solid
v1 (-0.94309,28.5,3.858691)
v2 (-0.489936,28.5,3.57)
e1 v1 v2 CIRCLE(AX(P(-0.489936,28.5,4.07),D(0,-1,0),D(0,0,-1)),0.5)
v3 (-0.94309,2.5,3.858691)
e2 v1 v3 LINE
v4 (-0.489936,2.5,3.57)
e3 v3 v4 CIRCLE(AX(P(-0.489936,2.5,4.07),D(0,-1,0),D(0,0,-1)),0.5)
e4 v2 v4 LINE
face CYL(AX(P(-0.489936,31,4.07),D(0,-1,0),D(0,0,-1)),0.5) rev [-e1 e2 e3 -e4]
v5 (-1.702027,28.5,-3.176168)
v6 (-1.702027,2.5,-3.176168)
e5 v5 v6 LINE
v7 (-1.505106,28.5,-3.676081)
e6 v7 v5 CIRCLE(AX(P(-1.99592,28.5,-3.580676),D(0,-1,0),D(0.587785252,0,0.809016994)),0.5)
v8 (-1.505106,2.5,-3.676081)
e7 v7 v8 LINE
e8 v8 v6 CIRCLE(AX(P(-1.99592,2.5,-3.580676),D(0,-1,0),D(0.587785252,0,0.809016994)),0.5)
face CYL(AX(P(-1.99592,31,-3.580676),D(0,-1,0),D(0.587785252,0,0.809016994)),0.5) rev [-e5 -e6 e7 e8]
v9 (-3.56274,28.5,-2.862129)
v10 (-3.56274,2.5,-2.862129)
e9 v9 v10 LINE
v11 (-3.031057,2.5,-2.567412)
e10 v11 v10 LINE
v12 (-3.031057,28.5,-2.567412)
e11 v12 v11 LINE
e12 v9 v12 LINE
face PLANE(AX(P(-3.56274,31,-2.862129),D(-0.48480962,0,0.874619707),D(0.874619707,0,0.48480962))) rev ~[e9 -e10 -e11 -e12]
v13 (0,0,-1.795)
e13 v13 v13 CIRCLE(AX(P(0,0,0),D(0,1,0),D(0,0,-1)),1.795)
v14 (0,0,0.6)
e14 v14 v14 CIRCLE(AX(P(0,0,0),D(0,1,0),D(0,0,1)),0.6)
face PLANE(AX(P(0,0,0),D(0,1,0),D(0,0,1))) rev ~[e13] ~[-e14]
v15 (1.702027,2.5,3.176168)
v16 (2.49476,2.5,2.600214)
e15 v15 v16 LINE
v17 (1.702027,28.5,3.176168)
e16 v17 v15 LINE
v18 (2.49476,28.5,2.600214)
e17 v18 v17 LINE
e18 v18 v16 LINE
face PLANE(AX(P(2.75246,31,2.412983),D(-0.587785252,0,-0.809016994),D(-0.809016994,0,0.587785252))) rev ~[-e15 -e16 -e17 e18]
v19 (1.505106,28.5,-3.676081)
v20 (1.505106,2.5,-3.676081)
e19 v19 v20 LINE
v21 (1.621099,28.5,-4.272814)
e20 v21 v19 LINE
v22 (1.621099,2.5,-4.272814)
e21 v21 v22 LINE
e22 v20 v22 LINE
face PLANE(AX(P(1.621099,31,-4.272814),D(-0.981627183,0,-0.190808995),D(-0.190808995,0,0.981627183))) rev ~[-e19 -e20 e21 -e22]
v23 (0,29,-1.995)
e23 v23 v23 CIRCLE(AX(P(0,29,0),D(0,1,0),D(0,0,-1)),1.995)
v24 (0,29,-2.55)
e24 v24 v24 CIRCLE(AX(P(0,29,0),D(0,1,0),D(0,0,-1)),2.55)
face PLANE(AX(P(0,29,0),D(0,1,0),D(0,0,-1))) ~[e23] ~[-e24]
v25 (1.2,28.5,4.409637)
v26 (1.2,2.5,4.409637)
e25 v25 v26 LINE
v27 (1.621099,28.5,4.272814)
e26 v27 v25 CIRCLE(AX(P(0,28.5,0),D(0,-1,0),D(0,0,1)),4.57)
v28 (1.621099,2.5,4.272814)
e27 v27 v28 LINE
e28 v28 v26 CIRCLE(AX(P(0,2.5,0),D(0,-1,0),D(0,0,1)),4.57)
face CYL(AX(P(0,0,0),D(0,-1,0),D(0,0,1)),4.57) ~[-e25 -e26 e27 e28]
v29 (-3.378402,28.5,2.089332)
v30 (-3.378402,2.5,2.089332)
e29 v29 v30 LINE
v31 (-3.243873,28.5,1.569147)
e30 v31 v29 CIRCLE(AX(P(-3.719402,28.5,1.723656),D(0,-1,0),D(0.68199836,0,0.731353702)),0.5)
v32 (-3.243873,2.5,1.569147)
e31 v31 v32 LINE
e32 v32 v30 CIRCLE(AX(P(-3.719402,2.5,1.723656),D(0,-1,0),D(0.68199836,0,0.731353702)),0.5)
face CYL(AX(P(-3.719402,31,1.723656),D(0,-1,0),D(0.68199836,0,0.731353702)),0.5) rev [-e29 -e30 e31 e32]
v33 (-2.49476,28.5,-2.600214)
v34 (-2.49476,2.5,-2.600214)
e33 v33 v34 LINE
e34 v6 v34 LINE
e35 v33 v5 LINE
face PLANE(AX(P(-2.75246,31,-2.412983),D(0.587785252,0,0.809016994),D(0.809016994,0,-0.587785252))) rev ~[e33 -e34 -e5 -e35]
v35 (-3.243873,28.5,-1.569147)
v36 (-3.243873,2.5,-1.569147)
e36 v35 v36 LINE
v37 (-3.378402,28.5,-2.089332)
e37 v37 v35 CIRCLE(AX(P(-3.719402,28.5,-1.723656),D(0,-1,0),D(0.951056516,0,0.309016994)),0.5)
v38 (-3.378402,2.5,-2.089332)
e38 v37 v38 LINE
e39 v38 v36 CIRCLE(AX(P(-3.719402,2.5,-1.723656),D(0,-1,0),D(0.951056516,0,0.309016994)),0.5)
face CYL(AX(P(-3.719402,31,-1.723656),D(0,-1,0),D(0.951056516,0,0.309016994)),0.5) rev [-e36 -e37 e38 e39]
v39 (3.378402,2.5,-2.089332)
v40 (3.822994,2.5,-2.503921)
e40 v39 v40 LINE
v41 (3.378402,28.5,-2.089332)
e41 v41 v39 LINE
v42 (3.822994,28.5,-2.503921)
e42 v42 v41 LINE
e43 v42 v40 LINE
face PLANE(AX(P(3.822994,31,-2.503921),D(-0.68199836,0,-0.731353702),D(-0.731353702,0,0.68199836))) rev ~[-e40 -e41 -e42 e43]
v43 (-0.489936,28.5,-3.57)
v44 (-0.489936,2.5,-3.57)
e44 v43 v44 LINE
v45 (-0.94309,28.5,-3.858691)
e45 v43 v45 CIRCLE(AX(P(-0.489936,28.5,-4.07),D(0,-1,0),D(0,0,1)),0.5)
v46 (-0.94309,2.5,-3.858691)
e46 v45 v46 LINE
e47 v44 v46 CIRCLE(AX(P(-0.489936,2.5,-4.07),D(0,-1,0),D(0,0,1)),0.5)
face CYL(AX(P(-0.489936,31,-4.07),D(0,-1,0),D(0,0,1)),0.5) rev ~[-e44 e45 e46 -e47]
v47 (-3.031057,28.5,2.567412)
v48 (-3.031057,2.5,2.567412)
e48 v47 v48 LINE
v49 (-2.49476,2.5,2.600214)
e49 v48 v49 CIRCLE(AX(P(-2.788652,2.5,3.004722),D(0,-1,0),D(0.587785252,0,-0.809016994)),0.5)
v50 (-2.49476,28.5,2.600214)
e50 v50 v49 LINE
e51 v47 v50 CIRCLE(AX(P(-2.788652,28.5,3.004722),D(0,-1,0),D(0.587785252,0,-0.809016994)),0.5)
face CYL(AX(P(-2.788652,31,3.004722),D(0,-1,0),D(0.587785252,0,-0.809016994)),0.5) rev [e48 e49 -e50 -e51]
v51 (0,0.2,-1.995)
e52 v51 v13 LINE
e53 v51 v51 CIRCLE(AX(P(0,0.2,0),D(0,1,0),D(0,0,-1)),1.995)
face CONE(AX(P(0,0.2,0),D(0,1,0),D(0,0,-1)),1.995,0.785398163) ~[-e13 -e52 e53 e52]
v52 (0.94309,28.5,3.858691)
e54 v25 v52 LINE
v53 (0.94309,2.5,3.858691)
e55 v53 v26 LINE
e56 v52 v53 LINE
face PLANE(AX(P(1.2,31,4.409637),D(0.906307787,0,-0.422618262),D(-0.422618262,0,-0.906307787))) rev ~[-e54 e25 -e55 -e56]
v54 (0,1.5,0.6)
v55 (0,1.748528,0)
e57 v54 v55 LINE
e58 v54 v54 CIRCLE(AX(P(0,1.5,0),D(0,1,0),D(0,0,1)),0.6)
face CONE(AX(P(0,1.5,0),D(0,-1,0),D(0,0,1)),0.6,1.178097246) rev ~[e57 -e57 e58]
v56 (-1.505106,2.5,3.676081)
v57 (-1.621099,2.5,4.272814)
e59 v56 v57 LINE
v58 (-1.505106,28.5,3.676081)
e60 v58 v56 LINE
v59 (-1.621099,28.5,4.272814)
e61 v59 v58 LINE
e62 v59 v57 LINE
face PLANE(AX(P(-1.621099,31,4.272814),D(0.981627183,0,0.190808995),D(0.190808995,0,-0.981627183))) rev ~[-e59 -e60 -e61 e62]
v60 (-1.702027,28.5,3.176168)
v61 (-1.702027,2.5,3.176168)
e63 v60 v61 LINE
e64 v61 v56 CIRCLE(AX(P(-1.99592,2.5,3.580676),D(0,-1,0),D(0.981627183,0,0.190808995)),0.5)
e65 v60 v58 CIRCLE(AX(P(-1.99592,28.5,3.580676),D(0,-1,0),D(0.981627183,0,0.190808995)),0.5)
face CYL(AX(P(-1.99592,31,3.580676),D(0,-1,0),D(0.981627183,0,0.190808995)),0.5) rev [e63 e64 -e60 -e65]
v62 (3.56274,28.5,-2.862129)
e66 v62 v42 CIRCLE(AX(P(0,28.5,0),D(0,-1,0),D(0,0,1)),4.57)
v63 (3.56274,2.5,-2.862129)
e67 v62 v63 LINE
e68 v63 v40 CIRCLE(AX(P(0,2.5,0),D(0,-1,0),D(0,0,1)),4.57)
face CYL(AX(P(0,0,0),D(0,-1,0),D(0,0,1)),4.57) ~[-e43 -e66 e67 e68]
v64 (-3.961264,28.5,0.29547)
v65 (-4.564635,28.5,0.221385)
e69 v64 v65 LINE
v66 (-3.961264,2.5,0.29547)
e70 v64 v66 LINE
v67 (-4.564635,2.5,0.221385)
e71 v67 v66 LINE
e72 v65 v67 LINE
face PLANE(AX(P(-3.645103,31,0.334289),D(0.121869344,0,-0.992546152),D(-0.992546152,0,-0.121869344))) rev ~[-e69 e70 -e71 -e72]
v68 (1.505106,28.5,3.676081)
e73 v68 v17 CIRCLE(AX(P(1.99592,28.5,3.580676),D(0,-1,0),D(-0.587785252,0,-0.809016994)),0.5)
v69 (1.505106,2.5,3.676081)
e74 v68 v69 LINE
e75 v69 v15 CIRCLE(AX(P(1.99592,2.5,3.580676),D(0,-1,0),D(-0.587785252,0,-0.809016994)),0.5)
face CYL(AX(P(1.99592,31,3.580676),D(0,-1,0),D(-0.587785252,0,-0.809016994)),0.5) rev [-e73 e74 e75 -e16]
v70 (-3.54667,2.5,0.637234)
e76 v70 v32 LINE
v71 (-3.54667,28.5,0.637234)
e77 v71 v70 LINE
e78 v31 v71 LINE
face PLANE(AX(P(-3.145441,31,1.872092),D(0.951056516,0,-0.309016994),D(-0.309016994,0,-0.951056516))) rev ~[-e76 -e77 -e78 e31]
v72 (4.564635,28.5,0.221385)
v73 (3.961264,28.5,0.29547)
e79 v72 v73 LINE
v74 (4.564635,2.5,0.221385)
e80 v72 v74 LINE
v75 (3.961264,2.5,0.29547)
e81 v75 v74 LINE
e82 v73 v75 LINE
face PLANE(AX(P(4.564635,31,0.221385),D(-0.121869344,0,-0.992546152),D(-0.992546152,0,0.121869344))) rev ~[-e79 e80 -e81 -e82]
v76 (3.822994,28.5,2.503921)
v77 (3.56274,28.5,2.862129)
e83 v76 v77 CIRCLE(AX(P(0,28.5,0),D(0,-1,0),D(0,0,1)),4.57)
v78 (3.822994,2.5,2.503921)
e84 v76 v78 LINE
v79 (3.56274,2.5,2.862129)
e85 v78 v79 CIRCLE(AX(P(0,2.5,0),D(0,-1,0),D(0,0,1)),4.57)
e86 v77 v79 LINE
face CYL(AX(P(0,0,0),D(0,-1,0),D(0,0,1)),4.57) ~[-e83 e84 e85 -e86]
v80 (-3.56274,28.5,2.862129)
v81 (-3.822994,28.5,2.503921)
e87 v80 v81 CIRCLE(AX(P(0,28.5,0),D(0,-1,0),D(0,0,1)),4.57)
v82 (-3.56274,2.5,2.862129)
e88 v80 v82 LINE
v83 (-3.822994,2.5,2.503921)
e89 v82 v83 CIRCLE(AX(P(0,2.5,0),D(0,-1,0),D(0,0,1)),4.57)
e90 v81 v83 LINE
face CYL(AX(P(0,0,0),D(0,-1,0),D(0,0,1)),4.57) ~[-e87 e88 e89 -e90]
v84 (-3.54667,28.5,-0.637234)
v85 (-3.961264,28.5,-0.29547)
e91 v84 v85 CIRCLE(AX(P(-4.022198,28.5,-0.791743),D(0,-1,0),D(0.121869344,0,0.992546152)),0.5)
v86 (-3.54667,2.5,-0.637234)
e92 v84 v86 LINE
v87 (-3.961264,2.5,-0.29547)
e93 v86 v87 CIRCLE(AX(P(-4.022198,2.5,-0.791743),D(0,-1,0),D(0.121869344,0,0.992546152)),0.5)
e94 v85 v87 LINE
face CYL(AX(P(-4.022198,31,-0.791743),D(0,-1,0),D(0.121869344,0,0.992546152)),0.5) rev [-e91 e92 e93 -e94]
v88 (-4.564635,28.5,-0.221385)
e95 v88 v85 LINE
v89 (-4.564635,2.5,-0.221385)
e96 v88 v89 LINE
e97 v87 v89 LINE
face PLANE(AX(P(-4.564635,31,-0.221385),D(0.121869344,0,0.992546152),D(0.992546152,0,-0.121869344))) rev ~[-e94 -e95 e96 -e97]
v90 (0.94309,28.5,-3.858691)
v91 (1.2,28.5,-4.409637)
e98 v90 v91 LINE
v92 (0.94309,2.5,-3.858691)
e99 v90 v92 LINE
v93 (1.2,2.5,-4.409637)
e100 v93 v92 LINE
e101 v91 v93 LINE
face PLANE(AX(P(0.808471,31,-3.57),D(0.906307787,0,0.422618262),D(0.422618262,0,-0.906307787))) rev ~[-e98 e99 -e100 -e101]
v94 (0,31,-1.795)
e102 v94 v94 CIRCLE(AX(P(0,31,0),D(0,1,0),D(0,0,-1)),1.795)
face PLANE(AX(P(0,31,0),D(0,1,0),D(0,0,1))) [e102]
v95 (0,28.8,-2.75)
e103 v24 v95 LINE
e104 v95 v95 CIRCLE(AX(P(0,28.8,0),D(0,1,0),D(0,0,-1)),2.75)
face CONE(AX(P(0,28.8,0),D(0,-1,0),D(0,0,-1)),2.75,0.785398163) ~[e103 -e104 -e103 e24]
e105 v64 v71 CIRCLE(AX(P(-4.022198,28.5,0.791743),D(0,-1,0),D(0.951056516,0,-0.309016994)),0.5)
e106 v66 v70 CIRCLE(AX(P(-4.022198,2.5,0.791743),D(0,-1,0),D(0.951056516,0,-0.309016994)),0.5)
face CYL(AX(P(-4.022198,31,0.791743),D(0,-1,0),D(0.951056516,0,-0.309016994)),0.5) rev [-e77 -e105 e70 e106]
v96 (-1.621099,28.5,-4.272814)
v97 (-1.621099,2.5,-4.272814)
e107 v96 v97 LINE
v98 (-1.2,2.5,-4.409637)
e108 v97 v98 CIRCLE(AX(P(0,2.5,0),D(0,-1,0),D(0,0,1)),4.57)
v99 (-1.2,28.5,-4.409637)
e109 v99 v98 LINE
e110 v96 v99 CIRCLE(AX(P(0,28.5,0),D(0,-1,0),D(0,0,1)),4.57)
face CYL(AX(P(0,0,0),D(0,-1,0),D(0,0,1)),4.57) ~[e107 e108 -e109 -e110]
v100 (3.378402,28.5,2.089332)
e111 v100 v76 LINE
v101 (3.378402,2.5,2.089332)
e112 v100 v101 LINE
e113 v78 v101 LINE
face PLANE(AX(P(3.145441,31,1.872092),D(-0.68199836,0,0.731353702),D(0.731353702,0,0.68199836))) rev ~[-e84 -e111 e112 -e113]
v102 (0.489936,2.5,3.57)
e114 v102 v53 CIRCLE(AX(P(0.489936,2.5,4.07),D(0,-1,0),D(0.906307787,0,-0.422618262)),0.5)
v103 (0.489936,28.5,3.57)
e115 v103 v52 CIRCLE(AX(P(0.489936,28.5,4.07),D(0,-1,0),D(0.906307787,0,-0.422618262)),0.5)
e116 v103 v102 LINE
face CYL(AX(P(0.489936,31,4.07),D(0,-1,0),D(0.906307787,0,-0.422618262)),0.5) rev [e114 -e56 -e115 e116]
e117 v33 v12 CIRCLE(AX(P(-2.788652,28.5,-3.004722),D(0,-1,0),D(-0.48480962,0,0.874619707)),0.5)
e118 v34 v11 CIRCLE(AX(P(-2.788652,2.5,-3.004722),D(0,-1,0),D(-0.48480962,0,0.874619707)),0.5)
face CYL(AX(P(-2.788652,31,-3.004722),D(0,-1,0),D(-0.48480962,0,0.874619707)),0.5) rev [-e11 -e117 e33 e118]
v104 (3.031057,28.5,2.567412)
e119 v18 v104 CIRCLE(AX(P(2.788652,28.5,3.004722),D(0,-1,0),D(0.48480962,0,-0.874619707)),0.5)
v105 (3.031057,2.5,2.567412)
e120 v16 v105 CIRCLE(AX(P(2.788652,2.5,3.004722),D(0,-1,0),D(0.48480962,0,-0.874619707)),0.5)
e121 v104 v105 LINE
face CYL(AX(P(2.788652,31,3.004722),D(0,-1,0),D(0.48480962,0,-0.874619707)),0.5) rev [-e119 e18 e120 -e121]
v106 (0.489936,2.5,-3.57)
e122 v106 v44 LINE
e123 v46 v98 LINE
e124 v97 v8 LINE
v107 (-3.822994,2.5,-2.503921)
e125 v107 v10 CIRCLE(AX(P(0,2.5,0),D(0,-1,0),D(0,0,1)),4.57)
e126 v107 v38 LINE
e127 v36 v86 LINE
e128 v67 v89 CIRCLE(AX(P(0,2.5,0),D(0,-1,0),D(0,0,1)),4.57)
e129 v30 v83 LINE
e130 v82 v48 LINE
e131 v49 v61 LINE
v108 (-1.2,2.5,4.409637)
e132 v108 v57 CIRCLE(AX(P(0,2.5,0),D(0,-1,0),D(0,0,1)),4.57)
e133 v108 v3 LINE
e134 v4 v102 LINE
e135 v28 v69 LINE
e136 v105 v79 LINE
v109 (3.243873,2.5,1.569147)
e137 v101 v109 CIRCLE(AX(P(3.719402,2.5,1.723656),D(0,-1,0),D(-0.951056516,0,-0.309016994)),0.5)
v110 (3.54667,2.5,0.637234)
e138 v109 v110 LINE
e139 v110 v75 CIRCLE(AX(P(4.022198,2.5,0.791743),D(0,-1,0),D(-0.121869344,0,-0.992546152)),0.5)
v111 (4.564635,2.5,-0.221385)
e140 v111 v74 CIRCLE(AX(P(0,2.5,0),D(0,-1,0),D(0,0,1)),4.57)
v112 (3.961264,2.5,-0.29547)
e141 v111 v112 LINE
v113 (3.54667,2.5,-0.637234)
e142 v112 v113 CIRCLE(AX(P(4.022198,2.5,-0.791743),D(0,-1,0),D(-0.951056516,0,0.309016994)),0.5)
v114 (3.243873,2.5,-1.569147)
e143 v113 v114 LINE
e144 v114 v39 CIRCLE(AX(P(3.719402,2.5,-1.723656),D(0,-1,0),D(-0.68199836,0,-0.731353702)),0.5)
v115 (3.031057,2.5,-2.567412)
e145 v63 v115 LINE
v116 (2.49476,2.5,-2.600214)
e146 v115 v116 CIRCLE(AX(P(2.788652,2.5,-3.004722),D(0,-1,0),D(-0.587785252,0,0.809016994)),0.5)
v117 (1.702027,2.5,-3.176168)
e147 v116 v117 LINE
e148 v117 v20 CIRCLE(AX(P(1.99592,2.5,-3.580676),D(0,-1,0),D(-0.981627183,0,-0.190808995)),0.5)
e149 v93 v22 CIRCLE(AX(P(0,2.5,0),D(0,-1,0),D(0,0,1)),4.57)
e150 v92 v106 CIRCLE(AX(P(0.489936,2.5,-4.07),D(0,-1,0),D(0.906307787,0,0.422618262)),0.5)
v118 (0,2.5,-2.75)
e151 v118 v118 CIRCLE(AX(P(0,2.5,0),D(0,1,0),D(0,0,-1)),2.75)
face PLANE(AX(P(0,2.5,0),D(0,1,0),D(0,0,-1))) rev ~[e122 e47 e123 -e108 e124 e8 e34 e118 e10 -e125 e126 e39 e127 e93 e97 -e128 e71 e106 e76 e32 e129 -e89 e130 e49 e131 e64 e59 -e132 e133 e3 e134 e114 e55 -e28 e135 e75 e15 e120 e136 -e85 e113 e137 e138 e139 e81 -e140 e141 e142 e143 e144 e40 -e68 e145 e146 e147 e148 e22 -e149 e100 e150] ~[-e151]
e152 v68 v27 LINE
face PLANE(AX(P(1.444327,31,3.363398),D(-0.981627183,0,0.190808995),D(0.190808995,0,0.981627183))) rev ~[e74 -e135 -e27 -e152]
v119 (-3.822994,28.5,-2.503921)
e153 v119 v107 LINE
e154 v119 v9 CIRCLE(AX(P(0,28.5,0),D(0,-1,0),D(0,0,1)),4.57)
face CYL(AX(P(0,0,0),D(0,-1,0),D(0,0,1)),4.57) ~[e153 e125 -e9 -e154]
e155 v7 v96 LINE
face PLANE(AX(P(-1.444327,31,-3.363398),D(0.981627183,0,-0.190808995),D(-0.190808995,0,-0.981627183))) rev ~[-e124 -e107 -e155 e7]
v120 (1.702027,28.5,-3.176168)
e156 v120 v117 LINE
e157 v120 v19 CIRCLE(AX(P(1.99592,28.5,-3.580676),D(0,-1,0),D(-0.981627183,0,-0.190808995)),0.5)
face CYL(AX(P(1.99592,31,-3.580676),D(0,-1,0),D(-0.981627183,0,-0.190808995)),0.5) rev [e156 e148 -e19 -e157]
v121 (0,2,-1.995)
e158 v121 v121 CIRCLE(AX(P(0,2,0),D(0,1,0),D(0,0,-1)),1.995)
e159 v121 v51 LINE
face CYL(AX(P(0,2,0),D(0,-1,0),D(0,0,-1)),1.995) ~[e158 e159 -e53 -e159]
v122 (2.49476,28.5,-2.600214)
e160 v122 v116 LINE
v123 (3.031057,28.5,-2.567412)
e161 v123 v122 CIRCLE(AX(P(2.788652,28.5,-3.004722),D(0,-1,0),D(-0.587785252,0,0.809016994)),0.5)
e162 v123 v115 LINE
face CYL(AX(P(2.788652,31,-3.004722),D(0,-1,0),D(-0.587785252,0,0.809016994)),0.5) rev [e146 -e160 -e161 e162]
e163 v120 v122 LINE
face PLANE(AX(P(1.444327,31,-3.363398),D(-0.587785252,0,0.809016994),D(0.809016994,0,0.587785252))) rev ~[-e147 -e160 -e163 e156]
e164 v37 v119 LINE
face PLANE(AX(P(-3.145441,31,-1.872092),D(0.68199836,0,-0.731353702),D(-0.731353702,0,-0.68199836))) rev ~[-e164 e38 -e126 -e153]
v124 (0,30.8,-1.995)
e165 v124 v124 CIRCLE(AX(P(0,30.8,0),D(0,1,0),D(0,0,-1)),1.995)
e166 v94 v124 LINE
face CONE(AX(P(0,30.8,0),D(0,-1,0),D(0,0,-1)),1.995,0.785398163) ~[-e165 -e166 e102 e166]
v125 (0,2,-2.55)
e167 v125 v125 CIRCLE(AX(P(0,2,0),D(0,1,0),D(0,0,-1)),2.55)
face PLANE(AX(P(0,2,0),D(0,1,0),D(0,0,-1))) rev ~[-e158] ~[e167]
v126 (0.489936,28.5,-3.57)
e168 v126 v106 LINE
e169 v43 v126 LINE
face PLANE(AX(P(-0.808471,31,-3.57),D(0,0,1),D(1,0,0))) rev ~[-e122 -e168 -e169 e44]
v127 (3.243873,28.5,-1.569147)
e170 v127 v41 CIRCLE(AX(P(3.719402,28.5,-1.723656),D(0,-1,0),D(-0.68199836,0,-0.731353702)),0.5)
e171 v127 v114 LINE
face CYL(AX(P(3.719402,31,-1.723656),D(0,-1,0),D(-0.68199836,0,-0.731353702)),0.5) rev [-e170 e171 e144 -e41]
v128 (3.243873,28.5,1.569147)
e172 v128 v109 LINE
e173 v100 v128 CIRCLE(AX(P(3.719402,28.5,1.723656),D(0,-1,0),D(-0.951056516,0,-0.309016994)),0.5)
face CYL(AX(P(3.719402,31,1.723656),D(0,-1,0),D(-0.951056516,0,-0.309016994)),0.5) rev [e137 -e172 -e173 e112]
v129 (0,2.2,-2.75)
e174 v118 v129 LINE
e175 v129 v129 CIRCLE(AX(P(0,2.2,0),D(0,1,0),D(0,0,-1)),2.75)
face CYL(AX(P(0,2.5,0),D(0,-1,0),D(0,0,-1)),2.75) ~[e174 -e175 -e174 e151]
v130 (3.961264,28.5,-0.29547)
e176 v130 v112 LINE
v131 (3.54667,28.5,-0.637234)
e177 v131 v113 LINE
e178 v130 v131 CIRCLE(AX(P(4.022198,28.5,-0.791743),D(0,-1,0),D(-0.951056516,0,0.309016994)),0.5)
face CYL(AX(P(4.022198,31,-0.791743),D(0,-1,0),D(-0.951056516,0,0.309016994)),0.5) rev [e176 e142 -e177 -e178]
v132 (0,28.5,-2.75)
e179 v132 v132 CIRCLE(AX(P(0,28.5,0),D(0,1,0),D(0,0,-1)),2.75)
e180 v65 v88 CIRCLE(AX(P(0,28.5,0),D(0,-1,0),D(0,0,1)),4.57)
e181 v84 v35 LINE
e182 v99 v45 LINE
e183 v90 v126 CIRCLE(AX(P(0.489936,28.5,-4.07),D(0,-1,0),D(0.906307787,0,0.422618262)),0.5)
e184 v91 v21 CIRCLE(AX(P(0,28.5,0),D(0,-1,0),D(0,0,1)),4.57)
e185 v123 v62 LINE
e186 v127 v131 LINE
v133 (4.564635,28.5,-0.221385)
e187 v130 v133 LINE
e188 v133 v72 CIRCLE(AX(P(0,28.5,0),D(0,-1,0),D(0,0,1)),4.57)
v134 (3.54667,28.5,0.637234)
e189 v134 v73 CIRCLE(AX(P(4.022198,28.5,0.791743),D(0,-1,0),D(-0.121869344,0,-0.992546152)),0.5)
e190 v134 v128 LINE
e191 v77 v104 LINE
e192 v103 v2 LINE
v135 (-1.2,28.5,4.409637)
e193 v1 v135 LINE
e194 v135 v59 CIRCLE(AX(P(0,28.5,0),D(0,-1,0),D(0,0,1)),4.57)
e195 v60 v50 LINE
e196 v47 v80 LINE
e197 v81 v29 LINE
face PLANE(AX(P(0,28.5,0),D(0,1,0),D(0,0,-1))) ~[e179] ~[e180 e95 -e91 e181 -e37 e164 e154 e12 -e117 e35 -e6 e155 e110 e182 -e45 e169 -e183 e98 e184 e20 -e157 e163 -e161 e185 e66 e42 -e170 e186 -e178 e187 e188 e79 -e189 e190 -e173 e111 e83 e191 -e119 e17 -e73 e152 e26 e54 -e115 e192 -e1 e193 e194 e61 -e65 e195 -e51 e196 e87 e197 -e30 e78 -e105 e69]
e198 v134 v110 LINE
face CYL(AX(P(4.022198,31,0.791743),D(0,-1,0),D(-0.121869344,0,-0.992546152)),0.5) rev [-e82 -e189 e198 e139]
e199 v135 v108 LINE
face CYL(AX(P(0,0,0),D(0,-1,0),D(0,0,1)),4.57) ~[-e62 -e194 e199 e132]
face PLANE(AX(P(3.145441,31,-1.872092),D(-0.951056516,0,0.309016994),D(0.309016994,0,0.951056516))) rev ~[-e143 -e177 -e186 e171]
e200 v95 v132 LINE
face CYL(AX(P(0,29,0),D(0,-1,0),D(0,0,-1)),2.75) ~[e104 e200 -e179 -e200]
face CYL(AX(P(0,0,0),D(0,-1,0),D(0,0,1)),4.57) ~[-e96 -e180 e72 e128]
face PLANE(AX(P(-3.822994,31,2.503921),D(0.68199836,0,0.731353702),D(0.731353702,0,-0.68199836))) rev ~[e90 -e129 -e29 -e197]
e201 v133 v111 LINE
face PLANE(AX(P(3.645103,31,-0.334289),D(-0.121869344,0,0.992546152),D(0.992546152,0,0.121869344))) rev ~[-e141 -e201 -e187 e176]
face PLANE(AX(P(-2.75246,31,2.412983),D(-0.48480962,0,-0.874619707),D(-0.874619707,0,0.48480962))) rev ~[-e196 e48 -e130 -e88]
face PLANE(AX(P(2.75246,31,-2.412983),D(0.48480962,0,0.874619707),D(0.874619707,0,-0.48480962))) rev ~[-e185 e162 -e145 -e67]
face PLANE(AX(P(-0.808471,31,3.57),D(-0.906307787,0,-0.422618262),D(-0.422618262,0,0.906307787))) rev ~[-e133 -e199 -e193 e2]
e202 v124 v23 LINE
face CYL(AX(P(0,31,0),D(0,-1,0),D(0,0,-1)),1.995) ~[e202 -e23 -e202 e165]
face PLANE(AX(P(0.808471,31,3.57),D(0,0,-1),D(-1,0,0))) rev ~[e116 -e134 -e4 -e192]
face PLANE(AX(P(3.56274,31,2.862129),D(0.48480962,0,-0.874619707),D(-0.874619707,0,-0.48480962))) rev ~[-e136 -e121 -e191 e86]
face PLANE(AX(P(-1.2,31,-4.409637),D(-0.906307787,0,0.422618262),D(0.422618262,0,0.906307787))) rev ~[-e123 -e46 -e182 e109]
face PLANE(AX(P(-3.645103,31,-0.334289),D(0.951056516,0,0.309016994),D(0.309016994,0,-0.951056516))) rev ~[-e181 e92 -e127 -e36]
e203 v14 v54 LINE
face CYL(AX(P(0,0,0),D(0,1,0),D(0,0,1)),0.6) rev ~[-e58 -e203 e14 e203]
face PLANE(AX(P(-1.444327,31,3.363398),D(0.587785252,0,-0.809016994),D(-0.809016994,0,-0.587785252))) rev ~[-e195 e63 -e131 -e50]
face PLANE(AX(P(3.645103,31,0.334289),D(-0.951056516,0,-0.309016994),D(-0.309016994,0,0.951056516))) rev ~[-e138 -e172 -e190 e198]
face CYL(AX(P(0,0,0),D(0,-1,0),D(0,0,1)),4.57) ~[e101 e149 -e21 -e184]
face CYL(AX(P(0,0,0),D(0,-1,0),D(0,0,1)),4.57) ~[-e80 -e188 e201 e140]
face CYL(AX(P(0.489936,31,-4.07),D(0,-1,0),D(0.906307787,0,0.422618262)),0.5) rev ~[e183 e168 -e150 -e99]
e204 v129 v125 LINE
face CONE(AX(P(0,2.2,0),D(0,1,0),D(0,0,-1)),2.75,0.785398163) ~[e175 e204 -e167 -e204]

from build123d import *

# Parameters (mm, degrees)
SKIZZE1_R                       = 4.57
AUFSATZ_LINEAR_AUSTRAGEN1_DEPTH = 31
SCHNITT_LINEAR_AUSTRAGEN1_DEPTH = 32.666540702
VERRUNDUNG1_R                   = 0.5
KREISMUSTER1_COUNT              = 10
VERRUNDUNG1_OF_KREISMUSTER1_R   = 0.5
FASE1_SIZE                      = 0.2


with BuildPart() as part:
    # Skizze1 → Aufsatz-Linear austragen1 (new body)
    with BuildSketch(Plane(origin=(0, 0, 0), x_dir=(1, 0, 0), z_dir=(0, 1, 0))):
        Circle(SKIZZE1_R)
    extrude(amount=AUFSATZ_LINEAR_AUSTRAGEN1_DEPTH)

    # Skizze12 → Schnitt-Linear austragen1 (cut, through all)
    with BuildSketch(Plane(origin=(0, 31, 0), x_dir=(1, 0, 0), z_dir=(0, 1, 0))):
        with BuildLine():
            Line((-1.2, 4.409637173), (-0.808470756, 3.57))
            Line((-0.808470756, 3.57), (0.808470756, 3.57))
            Line((0.808470756, 3.57), (1.2, 4.409637173))
            ThreePointArc((1.2, 4.409637173), (0, 4.57), (-1.2, 4.409637173))
        make_face()
    schnitt_linear_austragen1 = extrude(amount=-SCHNITT_LINEAR_AUSTRAGEN1_DEPTH, mode=Mode.SUBTRACT)

    # Verrundung1
    verrundung1_edges = [part.edges().sort_by_distance(p)[0] for p in [
        (-0.808470756, 15.5, -3.57),
        (0.808470756, 15.5, -3.57),
    ]]
    fillet(verrundung1_edges, radius=VERRUNDUNG1_R)

    # Kreismuster1: Schnitt-Linear austragen1 ×10 about axis
    kreismuster1_axis = Axis((0, -1.826859831, 0), (0, 1, 0))
    for i in range(1, KREISMUSTER1_COUNT):
        add(schnitt_linear_austragen1.rotate(kreismuster1_axis, i * 360 / KREISMUSTER1_COUNT), mode=Mode.SUBTRACT)

    # Verrundung1 of Kreismuster1
    verrundung1_of_kreismuster1_edges = [part.edges().sort_by_distance(p)[0] for p in [
        (-2.752459932, 15.5, -2.412983483),
        (-1.44432677, 15.5, -3.363397857),
        (-3.645102966, 15.5, -0.334289289),
        (-3.14544056, 15.5, -1.872092051),
        (-3.14544056, 15.5, 1.872092051),
        (-3.645102966, 15.5, 0.334289289),
        (-1.44432677, 15.5, 3.363397857),
        (-2.752459932, 15.5, 2.412983483),
        (0.808470756, 15.5, 3.57),
        (-0.808470756, 15.5, 3.57),
        (2.752459932, 15.5, 2.412983483),
        (1.44432677, 15.5, 3.363397857),
        (3.645102966, 15.5, 0.334289289),
        (3.14544056, 15.5, 1.872092051),
        (3.14544056, 15.5, -1.872092051),
        (3.645102966, 15.5, -0.334289289),
        (1.44432677, 15.5, -3.363397857),
        (2.752459932, 15.5, -2.412983483),
    ]]
    fillet(verrundung1_of_kreismuster1_edges, radius=VERRUNDUNG1_OF_KREISMUSTER1_R)

    # Skizze13 → Schnitt-Rotation1 (revolve, cut)
    with BuildSketch(Plane(origin=(0, 0, 0), x_dir=(0, 0, -1), z_dir=(1, 0, 0))):
        Polygon((-1.995, 0), (-10.076763041, 0), (-10.076763041, 31), (-1.995, 31), (-1.995, 29), (-2.75, 29), (-2.75, 28.5), (-6.450923694, 28.5), (-6.450923694, 2.5), (-2.75, 2.5), (-2.75, 2), (-1.995, 2), align=None)
    revolve(axis=Axis((0, -5.607699778, 0), (0, 1, 0)), mode=Mode.SUBTRACT)

    # Fase1
    fase1_edges = [part.edges().sort_by_distance(p)[0] for p in [
        (0, 0, -1.995),
        (0, 2, -2.75),
        (0, 29, -2.75),
        (0, 31, -1.995),
    ]]
    chamfer(fase1_edges, length=FASE1_SIZE)

    # Skizze14 → Schnitt-Rotation2 (revolve, cut)
    with BuildSketch(Plane(origin=(0, 0, 0), x_dir=(0, 0, -1), z_dir=(1, 0, 0))):
        Polygon((0, 0), (-0.6, 0), (-0.6, 1.5), (0, 1.748528137), align=None)
    revolve(axis=Axis((0, -2.816169131, 0), (0, 1, 0)), mode=Mode.SUBTRACT)


solid = part.part
